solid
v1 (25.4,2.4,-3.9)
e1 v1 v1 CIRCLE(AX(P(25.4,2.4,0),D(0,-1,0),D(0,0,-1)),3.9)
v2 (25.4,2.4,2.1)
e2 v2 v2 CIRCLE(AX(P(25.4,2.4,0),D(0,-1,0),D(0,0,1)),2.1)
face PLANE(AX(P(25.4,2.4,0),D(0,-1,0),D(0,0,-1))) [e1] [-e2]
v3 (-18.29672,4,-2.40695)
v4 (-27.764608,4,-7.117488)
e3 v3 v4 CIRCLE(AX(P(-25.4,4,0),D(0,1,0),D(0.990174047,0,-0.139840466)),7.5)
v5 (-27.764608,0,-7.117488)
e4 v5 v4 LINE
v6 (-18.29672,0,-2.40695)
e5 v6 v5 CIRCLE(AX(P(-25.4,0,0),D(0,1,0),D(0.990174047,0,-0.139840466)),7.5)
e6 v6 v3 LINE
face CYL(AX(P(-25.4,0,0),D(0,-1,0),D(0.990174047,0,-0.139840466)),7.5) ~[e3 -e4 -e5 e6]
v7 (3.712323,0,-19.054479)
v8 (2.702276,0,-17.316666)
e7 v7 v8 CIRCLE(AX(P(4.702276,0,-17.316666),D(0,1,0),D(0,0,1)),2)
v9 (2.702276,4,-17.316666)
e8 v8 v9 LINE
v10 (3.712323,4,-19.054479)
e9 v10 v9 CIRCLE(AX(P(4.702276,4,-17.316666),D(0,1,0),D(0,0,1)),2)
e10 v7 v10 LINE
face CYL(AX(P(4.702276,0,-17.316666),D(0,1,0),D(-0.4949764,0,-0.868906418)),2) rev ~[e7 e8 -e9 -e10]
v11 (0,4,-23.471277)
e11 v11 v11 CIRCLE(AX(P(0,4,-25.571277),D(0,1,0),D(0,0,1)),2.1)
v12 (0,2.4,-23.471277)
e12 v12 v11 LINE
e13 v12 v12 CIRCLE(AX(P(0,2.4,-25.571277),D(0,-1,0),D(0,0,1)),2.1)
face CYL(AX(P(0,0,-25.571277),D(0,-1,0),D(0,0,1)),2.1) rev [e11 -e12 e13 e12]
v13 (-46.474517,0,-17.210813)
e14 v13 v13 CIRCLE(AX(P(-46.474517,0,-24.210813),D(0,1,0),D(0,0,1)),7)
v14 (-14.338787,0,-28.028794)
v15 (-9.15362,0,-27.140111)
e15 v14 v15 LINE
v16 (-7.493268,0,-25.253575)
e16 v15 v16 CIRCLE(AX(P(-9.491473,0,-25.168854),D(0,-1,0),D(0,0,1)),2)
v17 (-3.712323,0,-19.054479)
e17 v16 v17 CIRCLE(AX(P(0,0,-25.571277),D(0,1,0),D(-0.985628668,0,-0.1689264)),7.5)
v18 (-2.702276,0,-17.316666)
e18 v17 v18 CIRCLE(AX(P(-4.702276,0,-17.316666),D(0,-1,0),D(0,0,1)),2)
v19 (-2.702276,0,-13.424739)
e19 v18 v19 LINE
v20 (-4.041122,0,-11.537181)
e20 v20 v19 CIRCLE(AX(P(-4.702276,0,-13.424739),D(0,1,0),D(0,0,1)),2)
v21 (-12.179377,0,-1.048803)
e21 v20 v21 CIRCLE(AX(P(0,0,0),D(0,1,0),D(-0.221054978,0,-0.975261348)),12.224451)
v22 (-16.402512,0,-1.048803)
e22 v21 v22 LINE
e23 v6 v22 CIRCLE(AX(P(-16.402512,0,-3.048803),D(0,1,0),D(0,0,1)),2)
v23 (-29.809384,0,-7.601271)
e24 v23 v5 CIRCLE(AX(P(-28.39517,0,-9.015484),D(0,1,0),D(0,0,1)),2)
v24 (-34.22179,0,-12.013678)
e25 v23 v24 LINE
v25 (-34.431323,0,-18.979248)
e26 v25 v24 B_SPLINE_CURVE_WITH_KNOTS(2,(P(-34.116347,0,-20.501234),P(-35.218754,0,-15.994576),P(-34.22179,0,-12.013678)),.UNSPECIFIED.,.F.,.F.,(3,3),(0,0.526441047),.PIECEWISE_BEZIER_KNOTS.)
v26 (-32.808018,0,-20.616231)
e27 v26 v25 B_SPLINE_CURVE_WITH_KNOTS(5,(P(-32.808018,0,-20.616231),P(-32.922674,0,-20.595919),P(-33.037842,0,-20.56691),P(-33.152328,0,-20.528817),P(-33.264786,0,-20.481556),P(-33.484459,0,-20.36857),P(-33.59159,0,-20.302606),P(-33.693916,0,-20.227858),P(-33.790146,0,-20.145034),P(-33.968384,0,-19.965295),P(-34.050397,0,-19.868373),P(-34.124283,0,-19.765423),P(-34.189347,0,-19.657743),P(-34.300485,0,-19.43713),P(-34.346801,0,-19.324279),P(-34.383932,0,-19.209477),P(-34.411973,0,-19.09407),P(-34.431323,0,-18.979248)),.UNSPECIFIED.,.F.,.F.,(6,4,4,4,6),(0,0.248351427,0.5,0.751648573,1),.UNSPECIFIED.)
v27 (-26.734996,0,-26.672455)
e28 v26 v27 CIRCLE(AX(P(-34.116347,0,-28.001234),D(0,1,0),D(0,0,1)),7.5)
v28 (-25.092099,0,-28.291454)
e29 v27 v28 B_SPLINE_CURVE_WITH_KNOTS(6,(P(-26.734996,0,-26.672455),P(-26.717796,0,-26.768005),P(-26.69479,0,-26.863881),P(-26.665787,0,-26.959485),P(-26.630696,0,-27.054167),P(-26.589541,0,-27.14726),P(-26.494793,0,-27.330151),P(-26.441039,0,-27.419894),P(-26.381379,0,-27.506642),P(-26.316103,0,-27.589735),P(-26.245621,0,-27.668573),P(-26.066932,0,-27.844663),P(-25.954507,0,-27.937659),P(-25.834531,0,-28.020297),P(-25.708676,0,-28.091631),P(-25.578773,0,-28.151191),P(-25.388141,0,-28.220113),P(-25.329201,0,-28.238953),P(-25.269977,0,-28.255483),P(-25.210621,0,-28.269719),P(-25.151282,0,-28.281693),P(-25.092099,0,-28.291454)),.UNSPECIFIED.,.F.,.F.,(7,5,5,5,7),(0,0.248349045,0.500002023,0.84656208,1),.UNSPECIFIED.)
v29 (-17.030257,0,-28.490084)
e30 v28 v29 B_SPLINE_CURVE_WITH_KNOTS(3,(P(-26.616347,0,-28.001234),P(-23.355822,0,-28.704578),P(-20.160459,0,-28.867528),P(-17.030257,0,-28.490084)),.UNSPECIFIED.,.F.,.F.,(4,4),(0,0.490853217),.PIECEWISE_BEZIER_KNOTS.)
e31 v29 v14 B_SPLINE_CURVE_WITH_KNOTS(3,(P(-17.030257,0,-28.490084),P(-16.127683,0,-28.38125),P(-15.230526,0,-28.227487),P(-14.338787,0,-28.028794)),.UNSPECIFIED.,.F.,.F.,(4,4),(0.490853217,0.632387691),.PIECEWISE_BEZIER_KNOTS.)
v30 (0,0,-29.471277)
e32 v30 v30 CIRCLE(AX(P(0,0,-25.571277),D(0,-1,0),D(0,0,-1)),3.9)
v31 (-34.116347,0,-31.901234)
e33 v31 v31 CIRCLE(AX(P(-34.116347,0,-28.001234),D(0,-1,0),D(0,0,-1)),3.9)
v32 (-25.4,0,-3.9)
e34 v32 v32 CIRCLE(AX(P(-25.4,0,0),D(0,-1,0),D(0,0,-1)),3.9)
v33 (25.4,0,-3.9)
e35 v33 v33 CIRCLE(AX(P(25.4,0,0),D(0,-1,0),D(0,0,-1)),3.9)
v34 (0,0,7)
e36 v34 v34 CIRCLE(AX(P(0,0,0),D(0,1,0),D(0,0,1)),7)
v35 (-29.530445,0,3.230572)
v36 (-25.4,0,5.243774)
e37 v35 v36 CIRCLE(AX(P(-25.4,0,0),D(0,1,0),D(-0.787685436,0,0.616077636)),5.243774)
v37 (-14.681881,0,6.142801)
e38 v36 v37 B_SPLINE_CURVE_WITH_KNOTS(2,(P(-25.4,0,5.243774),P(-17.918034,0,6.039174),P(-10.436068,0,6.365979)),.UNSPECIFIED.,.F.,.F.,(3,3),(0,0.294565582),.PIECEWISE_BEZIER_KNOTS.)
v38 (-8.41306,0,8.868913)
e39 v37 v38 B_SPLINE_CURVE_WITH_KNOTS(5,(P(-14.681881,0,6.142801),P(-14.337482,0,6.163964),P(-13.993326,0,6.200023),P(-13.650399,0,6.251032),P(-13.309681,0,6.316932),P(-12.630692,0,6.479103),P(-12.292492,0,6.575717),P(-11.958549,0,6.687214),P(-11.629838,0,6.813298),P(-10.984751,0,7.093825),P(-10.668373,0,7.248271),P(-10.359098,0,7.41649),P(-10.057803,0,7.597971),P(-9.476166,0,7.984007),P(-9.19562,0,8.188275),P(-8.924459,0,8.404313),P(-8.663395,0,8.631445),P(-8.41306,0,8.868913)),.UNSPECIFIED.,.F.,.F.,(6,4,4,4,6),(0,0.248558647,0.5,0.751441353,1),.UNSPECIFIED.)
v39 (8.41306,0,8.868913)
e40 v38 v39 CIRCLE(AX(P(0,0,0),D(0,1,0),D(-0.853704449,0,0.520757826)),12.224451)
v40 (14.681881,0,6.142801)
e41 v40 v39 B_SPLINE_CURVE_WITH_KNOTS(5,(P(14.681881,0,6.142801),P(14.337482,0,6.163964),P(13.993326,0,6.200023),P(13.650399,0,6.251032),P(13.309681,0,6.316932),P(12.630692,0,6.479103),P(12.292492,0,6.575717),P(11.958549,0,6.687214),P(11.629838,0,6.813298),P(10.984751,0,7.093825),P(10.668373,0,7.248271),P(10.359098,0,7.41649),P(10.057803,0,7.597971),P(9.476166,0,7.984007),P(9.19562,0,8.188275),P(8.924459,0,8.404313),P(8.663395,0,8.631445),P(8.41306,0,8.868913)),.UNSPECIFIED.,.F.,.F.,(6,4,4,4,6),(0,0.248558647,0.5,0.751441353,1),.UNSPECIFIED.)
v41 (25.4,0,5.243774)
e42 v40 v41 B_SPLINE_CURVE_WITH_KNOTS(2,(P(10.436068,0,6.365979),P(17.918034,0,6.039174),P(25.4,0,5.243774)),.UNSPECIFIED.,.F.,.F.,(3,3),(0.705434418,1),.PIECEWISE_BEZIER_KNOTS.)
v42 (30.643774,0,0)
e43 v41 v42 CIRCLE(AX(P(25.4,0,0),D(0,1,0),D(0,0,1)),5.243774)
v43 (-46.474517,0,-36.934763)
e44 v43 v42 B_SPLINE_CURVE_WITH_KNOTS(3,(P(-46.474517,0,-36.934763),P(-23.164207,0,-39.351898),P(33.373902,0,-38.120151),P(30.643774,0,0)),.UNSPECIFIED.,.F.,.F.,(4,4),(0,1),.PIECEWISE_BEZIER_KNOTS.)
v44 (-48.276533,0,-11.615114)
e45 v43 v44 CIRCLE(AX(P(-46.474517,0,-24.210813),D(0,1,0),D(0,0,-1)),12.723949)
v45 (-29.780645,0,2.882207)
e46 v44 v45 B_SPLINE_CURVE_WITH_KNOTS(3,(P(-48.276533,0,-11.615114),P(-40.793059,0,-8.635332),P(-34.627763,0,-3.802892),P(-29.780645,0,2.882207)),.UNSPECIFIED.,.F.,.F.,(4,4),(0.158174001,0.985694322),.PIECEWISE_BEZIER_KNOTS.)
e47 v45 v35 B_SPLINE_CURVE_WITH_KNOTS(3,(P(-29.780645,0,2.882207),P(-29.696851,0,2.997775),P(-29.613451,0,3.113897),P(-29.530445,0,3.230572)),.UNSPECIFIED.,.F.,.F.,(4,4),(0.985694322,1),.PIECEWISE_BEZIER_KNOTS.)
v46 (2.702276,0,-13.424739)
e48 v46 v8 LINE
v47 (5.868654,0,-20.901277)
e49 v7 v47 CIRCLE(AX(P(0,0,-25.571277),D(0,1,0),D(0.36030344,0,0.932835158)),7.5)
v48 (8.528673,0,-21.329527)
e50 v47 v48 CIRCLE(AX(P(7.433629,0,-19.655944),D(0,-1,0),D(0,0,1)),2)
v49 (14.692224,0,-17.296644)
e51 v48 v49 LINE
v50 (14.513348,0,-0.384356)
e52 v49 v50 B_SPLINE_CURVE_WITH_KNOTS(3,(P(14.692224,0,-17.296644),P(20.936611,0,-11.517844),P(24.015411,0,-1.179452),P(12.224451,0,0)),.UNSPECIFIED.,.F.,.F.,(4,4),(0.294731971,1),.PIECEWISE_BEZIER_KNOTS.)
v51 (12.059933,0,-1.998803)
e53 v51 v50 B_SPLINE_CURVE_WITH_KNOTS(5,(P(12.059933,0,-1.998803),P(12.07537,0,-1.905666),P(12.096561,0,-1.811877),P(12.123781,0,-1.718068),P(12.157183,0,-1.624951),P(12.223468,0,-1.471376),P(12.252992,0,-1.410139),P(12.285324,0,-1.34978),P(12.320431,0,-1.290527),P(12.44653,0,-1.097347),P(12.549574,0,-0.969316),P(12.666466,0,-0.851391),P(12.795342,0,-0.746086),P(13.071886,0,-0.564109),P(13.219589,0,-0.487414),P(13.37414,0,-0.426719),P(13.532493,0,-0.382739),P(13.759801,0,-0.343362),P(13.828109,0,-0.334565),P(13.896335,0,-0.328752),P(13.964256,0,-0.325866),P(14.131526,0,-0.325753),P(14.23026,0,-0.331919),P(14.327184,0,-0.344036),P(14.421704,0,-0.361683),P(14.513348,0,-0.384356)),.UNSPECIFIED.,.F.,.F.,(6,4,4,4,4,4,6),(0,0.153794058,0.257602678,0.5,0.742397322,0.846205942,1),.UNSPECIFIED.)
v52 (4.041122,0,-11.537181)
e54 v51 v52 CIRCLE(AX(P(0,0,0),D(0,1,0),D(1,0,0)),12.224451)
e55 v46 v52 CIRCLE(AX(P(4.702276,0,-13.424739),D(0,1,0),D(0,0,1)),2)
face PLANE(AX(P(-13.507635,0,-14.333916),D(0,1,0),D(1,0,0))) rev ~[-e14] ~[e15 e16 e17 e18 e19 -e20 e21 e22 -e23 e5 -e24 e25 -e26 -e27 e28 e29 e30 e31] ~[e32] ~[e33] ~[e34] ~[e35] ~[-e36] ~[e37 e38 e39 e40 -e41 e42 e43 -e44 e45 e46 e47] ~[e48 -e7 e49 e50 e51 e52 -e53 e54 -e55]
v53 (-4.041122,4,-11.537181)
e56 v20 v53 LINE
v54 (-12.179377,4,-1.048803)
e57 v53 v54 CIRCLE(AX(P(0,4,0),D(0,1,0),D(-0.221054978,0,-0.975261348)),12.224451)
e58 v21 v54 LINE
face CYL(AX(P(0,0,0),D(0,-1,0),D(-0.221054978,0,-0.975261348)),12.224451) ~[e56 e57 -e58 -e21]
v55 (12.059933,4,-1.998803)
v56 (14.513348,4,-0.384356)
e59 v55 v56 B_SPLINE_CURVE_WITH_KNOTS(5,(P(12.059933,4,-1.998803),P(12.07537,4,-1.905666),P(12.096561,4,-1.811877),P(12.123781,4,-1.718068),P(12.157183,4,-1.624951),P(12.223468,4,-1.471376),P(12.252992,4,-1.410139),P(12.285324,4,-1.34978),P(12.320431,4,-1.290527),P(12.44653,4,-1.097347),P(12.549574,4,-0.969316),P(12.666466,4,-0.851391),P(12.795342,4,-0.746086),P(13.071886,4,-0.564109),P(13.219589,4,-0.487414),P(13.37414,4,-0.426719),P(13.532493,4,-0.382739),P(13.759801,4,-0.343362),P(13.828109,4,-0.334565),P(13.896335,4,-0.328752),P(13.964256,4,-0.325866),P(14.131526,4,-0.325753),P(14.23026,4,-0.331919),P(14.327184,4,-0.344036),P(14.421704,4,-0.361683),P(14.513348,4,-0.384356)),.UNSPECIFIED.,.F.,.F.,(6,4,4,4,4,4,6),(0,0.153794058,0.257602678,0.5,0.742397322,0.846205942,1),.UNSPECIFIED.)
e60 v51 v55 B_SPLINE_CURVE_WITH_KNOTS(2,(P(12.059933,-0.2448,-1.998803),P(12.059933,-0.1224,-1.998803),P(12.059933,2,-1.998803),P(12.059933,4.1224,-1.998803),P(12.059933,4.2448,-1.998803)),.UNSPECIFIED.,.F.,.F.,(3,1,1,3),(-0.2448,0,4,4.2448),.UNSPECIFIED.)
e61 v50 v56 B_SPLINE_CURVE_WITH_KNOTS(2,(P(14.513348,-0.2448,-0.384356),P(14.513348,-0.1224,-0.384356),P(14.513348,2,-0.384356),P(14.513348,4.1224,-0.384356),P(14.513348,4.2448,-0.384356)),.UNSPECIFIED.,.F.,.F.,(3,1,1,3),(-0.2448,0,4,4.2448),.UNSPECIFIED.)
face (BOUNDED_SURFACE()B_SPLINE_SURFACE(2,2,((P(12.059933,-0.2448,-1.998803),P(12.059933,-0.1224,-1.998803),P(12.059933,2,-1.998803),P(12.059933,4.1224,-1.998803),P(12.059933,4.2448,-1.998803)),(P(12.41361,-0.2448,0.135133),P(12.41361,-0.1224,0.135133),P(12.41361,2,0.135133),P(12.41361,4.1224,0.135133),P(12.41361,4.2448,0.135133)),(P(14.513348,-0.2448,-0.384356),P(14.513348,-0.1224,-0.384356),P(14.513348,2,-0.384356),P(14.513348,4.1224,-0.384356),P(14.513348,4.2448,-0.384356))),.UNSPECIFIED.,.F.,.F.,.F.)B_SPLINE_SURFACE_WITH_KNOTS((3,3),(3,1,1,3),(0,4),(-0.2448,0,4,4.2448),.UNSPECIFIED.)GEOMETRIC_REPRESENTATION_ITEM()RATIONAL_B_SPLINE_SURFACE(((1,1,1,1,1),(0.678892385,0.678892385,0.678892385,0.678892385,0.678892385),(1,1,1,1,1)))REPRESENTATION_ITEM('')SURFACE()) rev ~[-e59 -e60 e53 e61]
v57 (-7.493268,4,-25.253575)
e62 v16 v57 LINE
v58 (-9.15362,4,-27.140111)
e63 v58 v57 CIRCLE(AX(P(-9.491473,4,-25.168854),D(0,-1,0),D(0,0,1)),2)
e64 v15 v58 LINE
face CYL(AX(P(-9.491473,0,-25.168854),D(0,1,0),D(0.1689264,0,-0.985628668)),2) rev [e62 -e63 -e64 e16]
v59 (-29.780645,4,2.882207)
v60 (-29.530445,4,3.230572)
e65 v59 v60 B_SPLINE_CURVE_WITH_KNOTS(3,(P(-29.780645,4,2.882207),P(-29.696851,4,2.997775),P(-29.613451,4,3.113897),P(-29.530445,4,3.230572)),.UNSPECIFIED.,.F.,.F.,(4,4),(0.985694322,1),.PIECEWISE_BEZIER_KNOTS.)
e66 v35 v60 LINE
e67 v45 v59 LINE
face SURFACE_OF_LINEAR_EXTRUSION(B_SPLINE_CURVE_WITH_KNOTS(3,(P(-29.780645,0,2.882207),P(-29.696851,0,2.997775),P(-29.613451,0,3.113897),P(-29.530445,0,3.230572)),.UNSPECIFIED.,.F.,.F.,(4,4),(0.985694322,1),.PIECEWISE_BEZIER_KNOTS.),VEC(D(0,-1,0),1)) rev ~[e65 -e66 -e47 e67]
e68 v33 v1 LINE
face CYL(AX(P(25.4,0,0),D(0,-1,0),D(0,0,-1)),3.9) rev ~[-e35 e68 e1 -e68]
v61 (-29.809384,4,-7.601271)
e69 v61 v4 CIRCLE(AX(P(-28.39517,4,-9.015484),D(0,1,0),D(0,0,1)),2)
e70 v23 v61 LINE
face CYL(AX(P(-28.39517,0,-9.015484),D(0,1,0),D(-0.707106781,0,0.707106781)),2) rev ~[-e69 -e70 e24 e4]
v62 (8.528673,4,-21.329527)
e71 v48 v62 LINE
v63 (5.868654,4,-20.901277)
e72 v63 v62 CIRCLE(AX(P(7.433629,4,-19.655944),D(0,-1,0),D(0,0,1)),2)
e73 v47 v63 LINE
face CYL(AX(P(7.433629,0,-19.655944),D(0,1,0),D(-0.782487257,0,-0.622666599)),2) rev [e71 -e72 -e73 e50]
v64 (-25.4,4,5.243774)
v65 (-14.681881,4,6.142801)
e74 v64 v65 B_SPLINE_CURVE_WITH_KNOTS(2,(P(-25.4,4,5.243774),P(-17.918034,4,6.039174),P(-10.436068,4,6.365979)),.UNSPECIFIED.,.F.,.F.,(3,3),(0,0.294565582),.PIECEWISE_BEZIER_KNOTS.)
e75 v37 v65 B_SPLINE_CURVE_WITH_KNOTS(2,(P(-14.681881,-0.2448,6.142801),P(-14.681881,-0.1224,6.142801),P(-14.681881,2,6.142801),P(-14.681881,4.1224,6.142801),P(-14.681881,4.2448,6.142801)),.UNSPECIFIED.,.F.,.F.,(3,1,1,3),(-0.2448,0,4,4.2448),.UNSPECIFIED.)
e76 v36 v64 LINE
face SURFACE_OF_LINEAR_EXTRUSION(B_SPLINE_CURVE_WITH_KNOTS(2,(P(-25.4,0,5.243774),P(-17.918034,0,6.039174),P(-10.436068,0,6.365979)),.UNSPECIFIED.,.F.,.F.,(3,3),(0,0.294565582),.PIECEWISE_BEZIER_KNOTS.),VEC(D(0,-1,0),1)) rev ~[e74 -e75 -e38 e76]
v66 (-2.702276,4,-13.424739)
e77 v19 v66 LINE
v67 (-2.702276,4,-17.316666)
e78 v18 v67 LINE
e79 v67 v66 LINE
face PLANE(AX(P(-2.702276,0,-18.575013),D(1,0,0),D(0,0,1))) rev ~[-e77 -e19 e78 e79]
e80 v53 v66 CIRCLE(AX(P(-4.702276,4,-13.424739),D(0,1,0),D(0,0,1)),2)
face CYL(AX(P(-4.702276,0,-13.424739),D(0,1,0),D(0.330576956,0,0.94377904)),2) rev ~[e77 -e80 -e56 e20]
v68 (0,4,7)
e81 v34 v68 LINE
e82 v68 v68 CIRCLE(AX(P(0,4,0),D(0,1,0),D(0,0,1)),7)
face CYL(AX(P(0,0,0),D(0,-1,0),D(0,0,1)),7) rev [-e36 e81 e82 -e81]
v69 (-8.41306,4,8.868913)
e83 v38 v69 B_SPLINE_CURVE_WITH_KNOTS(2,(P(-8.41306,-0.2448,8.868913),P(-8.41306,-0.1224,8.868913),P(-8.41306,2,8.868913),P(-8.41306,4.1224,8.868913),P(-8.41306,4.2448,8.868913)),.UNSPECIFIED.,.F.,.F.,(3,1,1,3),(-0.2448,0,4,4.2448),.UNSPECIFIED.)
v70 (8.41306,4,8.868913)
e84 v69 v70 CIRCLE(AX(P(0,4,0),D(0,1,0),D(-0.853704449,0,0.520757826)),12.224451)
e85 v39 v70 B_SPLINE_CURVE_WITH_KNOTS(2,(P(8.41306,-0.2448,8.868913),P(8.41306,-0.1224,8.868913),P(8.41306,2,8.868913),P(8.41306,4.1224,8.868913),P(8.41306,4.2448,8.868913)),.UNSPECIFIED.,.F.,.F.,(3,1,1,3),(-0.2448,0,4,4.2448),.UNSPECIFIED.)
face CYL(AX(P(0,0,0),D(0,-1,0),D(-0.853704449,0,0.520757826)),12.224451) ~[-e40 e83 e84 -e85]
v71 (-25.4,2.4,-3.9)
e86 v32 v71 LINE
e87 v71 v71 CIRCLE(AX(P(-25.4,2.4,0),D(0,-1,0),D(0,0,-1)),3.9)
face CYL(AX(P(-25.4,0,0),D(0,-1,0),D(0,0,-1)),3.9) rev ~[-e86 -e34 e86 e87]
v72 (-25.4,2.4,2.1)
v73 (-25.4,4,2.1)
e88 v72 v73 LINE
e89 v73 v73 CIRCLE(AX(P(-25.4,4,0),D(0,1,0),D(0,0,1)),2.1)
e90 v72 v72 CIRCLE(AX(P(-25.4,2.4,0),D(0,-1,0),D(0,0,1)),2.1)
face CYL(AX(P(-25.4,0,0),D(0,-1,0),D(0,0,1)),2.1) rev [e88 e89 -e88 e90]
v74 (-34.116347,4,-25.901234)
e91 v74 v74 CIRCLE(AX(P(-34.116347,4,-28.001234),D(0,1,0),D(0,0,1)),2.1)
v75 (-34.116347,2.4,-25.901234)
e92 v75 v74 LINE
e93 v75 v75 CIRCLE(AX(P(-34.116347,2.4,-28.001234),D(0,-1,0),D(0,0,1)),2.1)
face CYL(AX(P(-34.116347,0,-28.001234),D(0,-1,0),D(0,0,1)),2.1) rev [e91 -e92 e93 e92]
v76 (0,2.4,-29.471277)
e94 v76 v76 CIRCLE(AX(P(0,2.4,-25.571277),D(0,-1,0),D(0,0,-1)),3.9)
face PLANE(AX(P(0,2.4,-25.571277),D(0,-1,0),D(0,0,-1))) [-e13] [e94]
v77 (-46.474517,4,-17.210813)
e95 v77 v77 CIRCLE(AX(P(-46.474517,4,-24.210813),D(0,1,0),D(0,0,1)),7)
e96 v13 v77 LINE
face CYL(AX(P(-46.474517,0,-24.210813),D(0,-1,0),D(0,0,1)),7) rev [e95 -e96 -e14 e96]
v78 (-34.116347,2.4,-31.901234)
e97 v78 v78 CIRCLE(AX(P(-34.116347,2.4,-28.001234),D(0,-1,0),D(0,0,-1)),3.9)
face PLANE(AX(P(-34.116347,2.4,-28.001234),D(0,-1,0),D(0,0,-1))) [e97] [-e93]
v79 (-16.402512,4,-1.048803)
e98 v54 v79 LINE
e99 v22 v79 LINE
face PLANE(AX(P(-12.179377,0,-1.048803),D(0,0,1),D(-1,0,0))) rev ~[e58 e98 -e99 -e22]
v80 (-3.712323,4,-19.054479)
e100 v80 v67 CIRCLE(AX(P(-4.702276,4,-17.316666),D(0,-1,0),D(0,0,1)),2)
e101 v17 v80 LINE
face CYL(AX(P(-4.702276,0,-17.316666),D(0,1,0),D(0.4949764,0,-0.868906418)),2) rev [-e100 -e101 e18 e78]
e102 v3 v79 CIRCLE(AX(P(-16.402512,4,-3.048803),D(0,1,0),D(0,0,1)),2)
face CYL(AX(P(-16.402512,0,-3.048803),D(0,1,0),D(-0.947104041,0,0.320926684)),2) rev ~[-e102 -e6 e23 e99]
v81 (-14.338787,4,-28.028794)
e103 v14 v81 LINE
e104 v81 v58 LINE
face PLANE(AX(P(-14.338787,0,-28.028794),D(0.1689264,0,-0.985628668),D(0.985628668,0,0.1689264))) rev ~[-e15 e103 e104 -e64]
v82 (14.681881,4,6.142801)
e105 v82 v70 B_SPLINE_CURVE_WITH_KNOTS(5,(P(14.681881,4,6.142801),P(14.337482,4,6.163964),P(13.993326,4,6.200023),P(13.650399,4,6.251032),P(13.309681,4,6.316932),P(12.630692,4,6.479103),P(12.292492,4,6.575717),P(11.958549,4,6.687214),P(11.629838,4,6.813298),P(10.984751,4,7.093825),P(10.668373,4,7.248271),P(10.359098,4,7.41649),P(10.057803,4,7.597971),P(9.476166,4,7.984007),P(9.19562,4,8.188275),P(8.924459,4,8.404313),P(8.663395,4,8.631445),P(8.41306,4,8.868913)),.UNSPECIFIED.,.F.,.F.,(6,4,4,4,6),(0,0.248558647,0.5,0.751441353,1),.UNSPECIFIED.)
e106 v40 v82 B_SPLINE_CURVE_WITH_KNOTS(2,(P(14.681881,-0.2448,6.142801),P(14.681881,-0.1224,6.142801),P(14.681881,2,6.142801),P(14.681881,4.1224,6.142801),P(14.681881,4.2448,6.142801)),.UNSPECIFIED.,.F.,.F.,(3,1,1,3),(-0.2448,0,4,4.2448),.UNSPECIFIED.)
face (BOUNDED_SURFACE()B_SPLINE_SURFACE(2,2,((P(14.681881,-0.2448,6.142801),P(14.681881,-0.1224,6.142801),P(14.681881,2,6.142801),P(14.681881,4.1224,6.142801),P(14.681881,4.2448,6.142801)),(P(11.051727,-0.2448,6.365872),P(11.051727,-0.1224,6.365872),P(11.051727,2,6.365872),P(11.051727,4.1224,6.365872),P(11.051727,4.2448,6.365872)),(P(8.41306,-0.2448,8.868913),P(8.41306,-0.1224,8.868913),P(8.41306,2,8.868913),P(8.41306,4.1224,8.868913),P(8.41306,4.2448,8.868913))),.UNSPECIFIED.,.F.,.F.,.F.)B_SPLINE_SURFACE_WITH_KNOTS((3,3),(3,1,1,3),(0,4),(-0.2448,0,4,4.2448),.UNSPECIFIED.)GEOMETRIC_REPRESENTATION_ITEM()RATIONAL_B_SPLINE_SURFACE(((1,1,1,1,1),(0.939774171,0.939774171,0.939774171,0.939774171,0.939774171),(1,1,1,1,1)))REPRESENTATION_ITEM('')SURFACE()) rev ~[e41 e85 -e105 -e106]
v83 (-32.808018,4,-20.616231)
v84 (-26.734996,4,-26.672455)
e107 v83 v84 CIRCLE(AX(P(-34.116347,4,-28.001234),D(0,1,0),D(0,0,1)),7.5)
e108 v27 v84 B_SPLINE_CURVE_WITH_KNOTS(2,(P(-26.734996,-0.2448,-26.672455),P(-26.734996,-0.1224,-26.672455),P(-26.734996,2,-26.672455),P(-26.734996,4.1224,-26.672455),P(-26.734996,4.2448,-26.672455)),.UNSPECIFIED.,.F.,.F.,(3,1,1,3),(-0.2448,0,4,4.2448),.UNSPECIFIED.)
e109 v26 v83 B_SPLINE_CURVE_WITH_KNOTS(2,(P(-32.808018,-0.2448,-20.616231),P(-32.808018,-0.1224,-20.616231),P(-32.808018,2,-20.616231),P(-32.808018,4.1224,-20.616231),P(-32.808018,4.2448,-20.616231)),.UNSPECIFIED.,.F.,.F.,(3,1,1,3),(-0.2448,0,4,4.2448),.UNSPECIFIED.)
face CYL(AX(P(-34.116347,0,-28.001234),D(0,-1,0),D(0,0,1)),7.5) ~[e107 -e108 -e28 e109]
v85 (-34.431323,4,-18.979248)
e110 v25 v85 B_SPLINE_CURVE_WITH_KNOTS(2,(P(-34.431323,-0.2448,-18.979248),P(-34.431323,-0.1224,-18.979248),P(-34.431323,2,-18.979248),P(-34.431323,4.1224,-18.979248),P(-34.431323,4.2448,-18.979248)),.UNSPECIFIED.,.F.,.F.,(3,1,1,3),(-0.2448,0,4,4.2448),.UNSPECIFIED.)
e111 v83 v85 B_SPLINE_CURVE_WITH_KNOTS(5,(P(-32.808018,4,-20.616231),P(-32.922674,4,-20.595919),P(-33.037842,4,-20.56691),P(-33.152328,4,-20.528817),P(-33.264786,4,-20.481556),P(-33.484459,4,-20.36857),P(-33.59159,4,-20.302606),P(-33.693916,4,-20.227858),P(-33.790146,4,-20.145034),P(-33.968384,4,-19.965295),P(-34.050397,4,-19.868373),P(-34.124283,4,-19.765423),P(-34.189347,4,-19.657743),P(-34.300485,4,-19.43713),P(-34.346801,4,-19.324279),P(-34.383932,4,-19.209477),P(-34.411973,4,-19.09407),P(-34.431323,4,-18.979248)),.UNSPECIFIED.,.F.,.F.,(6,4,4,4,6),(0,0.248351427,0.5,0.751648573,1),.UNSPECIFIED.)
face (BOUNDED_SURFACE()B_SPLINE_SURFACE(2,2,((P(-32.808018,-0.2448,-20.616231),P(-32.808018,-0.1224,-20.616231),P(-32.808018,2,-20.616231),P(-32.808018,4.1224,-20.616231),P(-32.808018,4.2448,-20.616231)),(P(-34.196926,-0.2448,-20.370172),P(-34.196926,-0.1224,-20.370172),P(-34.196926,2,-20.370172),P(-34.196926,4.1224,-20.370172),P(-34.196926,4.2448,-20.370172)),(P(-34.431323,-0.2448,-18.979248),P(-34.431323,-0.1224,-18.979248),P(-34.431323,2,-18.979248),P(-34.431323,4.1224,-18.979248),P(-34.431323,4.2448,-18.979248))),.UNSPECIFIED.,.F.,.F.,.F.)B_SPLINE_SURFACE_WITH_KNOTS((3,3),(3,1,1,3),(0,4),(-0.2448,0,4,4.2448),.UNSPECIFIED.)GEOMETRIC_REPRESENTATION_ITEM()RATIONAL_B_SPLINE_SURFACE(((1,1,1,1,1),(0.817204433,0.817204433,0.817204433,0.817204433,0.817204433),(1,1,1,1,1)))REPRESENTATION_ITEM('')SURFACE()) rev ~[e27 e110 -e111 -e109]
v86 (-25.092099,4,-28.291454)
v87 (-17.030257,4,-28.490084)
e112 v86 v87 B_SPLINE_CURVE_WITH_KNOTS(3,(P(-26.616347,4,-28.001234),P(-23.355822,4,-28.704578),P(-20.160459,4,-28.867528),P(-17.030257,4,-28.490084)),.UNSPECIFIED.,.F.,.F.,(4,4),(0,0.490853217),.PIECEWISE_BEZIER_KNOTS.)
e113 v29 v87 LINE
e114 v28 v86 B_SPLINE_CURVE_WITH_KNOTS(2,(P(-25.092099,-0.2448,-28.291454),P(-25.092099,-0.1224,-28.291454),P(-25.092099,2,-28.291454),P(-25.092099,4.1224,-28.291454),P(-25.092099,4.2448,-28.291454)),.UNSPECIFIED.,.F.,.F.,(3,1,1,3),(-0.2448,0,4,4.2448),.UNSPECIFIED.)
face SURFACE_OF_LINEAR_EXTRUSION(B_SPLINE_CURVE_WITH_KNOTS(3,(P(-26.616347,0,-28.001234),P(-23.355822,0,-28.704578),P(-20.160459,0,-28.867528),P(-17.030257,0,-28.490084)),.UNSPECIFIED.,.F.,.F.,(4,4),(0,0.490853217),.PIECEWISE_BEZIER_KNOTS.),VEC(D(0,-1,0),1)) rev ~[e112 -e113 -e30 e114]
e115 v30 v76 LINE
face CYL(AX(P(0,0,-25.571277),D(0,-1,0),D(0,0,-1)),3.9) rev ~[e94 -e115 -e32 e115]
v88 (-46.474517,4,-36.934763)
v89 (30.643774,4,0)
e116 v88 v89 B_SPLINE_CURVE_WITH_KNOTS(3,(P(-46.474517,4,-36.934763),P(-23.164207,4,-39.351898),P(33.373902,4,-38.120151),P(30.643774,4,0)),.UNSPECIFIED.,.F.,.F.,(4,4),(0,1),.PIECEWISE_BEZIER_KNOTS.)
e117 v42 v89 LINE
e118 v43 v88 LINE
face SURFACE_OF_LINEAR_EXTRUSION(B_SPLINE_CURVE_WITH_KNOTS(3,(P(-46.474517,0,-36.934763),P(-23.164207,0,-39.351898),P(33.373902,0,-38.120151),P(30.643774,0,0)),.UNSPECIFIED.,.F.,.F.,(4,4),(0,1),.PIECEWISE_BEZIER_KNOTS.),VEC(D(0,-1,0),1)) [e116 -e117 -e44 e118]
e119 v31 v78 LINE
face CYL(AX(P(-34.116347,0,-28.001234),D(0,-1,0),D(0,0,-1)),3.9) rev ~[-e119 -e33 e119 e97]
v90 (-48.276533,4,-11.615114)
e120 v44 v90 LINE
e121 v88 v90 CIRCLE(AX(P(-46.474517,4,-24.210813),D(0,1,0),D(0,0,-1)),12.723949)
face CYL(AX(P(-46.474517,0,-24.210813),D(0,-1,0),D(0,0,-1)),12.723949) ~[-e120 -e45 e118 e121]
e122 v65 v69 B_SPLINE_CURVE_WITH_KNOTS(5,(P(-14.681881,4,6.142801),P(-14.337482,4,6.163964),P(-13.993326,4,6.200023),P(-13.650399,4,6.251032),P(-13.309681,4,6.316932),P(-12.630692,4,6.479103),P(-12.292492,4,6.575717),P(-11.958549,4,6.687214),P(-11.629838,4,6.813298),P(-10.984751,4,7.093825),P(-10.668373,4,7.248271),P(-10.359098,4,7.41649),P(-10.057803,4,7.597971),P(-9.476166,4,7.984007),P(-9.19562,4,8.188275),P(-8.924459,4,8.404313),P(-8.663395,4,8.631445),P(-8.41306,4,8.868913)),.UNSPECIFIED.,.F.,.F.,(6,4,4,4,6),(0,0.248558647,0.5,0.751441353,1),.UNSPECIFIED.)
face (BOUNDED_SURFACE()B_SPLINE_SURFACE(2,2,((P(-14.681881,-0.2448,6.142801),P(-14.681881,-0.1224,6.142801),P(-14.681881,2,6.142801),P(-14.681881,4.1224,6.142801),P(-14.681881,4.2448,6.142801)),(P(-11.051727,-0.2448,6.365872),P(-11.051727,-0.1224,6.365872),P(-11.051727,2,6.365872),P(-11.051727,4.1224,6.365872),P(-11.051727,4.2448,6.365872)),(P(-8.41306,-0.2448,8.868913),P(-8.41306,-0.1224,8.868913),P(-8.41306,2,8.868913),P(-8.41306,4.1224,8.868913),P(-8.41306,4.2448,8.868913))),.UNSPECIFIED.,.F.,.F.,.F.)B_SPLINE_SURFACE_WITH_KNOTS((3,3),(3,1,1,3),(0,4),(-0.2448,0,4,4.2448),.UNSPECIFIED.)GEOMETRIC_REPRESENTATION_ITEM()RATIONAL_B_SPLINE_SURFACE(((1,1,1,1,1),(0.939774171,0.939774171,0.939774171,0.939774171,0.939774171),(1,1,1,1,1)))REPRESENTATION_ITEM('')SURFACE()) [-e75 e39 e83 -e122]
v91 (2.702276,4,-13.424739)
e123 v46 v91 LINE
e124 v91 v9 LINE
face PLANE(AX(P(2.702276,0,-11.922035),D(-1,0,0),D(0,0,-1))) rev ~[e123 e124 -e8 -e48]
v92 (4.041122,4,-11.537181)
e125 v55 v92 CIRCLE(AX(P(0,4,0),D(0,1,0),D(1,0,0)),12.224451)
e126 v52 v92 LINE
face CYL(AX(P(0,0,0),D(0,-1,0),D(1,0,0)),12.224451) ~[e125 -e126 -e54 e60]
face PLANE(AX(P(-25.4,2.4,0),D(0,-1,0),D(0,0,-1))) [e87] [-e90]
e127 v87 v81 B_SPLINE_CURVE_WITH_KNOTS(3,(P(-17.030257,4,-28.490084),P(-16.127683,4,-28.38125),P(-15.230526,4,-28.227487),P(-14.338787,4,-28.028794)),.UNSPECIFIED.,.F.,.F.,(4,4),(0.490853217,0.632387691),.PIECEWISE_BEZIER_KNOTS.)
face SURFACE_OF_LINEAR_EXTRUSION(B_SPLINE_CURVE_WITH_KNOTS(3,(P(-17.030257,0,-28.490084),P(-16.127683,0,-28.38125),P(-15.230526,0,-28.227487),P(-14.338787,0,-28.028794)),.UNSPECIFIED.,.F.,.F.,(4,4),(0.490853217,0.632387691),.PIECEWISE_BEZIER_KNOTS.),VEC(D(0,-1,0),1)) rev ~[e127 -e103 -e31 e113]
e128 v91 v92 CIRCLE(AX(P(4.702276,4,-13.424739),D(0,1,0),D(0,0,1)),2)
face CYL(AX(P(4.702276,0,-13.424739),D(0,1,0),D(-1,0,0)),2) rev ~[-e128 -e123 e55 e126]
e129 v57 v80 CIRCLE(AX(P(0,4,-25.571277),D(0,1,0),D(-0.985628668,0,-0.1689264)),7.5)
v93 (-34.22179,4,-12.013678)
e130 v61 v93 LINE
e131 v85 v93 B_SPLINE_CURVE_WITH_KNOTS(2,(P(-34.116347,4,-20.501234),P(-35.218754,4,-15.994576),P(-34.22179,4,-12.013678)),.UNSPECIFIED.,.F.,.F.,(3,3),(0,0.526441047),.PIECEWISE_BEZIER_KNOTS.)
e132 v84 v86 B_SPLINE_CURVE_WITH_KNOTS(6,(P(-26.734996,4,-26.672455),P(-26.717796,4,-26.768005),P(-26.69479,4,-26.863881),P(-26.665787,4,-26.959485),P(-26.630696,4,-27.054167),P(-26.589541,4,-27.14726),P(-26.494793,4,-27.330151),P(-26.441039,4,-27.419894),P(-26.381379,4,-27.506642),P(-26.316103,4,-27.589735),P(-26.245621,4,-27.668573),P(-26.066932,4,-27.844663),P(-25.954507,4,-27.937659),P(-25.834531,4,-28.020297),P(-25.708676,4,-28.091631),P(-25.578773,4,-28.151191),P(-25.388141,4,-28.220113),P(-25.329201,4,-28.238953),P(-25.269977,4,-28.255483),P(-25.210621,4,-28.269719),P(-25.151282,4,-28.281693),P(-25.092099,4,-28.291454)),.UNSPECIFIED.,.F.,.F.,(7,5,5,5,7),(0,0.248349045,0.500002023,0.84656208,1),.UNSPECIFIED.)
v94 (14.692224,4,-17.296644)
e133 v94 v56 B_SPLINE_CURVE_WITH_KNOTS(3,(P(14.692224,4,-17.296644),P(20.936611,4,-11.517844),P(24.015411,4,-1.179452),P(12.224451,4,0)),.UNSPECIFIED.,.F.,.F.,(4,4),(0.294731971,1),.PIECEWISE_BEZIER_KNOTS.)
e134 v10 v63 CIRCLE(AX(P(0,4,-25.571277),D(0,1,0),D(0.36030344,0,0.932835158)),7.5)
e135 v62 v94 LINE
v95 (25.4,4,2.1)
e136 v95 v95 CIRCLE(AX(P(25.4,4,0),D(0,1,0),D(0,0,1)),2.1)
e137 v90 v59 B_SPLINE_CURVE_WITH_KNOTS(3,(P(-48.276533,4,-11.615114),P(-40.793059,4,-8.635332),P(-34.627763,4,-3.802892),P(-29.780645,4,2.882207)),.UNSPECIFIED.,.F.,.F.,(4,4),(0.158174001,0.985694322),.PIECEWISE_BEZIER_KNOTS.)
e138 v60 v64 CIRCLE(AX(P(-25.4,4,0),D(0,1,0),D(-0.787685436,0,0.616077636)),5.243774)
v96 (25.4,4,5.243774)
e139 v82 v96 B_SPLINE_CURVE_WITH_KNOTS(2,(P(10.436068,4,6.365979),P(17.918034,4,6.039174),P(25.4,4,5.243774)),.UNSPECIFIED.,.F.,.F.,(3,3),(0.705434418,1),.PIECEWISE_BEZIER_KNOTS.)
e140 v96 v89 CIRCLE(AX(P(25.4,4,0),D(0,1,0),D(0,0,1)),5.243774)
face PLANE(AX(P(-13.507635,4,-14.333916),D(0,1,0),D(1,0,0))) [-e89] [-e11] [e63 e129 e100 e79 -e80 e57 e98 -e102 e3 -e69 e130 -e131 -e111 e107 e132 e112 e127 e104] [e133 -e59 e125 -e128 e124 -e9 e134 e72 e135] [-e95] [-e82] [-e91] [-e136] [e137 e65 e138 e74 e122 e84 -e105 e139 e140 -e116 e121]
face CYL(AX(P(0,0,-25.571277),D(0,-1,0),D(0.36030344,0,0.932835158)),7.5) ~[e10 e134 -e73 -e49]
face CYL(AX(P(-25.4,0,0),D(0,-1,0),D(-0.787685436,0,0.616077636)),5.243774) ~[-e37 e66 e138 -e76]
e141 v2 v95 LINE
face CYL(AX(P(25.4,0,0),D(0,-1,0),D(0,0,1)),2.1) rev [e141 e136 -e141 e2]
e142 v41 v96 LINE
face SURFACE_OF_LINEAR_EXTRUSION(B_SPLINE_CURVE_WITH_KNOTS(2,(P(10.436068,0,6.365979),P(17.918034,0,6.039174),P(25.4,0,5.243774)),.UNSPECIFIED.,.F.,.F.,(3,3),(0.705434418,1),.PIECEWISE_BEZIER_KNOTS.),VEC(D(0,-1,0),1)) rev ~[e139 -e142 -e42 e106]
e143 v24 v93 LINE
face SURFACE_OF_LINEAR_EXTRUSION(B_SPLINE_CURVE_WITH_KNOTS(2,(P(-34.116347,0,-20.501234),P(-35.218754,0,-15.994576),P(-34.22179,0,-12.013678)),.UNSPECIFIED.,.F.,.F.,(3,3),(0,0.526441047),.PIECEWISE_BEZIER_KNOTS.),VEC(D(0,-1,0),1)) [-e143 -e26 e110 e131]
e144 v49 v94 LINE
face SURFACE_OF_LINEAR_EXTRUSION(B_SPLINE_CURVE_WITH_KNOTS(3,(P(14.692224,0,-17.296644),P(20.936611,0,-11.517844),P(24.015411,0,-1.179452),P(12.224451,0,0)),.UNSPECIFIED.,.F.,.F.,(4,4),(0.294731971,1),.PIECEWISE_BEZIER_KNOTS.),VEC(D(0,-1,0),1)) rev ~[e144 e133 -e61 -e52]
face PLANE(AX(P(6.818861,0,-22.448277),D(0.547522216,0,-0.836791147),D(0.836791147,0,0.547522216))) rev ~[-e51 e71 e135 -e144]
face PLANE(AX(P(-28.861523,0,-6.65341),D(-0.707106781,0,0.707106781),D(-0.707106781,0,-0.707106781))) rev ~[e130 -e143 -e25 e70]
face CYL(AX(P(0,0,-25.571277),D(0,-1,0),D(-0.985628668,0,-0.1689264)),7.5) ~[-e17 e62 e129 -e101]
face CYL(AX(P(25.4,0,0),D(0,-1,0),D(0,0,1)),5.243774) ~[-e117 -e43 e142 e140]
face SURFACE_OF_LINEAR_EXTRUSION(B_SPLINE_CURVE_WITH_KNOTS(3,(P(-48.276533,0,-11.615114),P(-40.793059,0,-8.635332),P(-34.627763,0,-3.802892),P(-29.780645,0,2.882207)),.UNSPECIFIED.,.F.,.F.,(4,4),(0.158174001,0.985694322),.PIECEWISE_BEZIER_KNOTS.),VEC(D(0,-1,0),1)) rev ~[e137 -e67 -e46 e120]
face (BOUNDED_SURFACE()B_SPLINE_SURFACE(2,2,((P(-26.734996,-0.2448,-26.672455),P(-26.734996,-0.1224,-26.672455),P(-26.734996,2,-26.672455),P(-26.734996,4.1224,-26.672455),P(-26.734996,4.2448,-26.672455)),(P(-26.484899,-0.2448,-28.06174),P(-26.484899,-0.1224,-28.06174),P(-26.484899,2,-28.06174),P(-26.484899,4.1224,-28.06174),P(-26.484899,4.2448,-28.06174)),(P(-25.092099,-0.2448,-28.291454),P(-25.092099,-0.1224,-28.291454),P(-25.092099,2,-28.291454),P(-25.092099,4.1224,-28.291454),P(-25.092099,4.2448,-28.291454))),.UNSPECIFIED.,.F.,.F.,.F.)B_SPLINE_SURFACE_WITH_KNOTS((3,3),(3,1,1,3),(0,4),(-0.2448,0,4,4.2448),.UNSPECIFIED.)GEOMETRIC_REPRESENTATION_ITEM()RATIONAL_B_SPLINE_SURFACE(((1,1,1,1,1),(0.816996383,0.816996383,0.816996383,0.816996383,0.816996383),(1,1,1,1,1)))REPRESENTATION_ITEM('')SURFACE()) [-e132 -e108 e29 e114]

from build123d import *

# Parameters (mm, degrees)
SKETCH1_R           = 2.1
SKETCH1_R_2         = 7
BOSS_EXTRUDE1_DEPTH = 4
FILLET1_R           = 10
SKETCH2_R           = 3.9
CUT_EXTRUDE1_DEPTH  = 2.4
FILLET2_R           = 2


with BuildPart() as part:
    # Sketch1 → Boss-Extrude1 (new body)
    with BuildSketch(Plane(origin=(0, 0, 0), x_dir=(1, 0, 0), z_dir=(0, 1, 0))):
        with BuildLine():
            add(Edge.make_bspline(
                [(-48.276532762, 11.615114404), (-40.793059369, 8.635332343), (-34.627763453, 3.802891886), (-29.780645012, -2.882206965)],
                knots=[0.158174001, 0.158174001, 0.158174001, 0.158174001, 0.985694322, 0.985694322, 0.985694322, 0.985694322], degree=3))
            add(Edge.make_bspline(
                [(-29.780645012, -2.882206965), (-29.696850917, -2.997774969), (-29.613450765, -3.113896649), (-29.530444557, -3.230572003)],
                knots=[0.985694322, 0.985694322, 0.985694322, 0.985694322, 1, 1, 1, 1], degree=3))
            ThreePointArc((-29.530444557, -3.230572003), (-27.697474443, -4.713679973), (-25.4, -5.243774185))
            add(Edge.make_bspline(
                [(-25.4, -5.243774185), (-17.91803421, -6.039173757), (-10.43606842, -6.365978653)],
                knots=[0, 0, 0, 0.294565582, 0.294565582, 0.294565582], degree=2))
            ThreePointArc((-10.43606842, -6.365978653), (0, -12.224451247), (10.43606842, -6.365978653))
            add(Edge.make_bspline(
                [(10.43606842, -6.365978653), (17.918034209, -6.039173757), (25.4, -5.243774185)],
                knots=[0.705434418, 0.705434418, 0.705434418, 1, 1, 1], degree=2))
            ThreePointArc((25.4, -5.243774185), (29.107908285, -3.707908285), (30.643774185, 0))
            add(Edge.make_bspline(
                [(-46.474516908, 36.934762739), (-23.164206568, 39.351897946), (33.373901801, 38.120150773), (30.643774185, 0)],
                knots=[0, 0, 0, 0, 1, 1, 1, 1], degree=3))
            ThreePointArc((-46.474516908, 36.934762739), (-59.166363236, 25.114100216), (-48.276532762, 11.615114404))
        make_face()
        with Locations(Location((-25.4, 0, 0), (0, 0, 270))):
            Circle(SKETCH1_R, mode=Mode.SUBTRACT)
        with Locations(Location((0, 0, 0), (0, 0, 270))):
            Circle(SKETCH1_R_2, mode=Mode.SUBTRACT)
        with Locations(Location((25.4, 0, 0), (0, 0, 270))):
            Circle(SKETCH1_R, mode=Mode.SUBTRACT)
        with BuildLine():
            Line((6.818861244, 22.448276617), (14.692223791, 17.296643593))
            add(Edge.make_bspline(
                [(14.692223791, 17.296643593), (20.936611379, 11.517843997), (24.015411048, 1.179452343), (12.224451247, 0)],
                knots=[0.294731971, 0.294731971, 0.294731971, 0.294731971, 1, 1, 1, 1], degree=3))
            ThreePointArc((12.224451247, 0), (9.551728824, 7.629002869), (2.702275798, 11.922034801))
            Line((2.702275798, 11.922034801), (2.702275798, 18.575013303))
            ThreePointArc((2.702275798, 18.575013303), (5.139411914, 20.10900226), (6.818861244, 22.448276617))
        make_face(mode=Mode.SUBTRACT)
        with Locations(Location((-46.474516908, 24.210813251, 0), (0, 0, 270))):
            Circle(SKETCH1_R_2, mode=Mode.SUBTRACT)
        with BuildLine():
            add(Edge.make_bspline(
                [(-26.616347467, 28.001234406), (-23.355822424, 28.704578443), (-20.160458878, 28.867528343), (-17.03025683, 28.490084106)],
                knots=[0, 0, 0, 0, 0.490853217, 0.490853217, 0.490853217, 0.490853217], degree=3))
            add(Edge.make_bspline(
                [(-17.03025683, 28.490084106), (-16.127682529, 28.381250406), (-15.230525893, 28.227487183), (-14.338786924, 28.028794436)],
                knots=[0.490853217, 0.490853217, 0.490853217, 0.490853217, 0.632387691, 0.632387691, 0.632387691, 0.632387691], degree=3))
            Line((-14.338786924, 28.028794436), (-7.392215006, 26.83822498))
            ThreePointArc((-7.392215006, 26.83822498), (-6.522641563, 21.869230657), (-2.702275798, 18.575013303))
            Line((-2.702275798, 18.575013303), (-2.702275798, 11.922034801))
            ThreePointArc((-2.702275798, 11.922034801), (-9.215350555, 8.032093278), (-12.179376812, 1.048803495))
            Line((-12.179376812, 1.048803495), (-17.973694645, 1.048803495))
            ThreePointArc((-17.973694645, 1.048803495), (-21.967394814, 6.668374737), (-28.861522607, 6.653409745))
            Line((-28.861522607, 6.653409745), (-34.221790482, 12.01367762))
            add(Edge.make_bspline(
                [(-34.116347467, 20.501234406), (-35.2187538, 15.994576363), (-34.221790482, 12.01367762)],
                knots=[0, 0, 0, 0.526441047, 0.526441047, 0.526441047], degree=2))
            ThreePointArc((-34.116347467, 20.501234406), (-28.813046608, 22.697933547), (-26.616347467, 28.001234406))
        make_face(mode=Mode.SUBTRACT)
        with Locations(Location((-34.116347467, 28.001234406, 0), (0, 0, 270))):
            Circle(SKETCH1_R, mode=Mode.SUBTRACT)
        with Locations(Location((0, 25.57127698, 0), (0, 0, 270))):
            Circle(SKETCH1_R, mode=Mode.SUBTRACT)
    extrude(amount=BOSS_EXTRUDE1_DEPTH)

    # Fillet1
    fillet1_edges = [part.edges().sort_by_distance(p)[0] for p in [
        (10.43606842, 2, 6.365978653),
        (-10.43606842, 2, 6.365978653),
    ]]
    fillet(fillet1_edges, radius=FILLET1_R)

    # Sketch2 → Cut-Extrude1 (cut)
    with BuildSketch(Plane.XZ):
        with Locations(Location((0, -25.57127698, 0), (0, 0, 270))):
            Circle(SKETCH2_R)
        with Locations(Location((25.4, 0, 0), (0, 0, 270))):
            Circle(SKETCH2_R)
        with Locations(Location((-25.4, 0, 0), (0, 0, 270))):
            Circle(SKETCH2_R)
        with Locations(Location((-34.116347467, -28.001234406, 0), (0, 0, 270))):
            Circle(SKETCH2_R)
    extrude(amount=-CUT_EXTRUDE1_DEPTH, mode=Mode.SUBTRACT)

    # Fillet2
    fillet2_edges = [part.edges().sort_by_distance(p)[0] for p in [
        (-7.392215006, 2, -26.83822498),
        (-26.616347467, 2, -28.001234406),
        (-28.861522607, 2, -6.653409745),
        (-17.973694645, 2, -1.048803495),
        (12.224451247, 2, 0),
        (-34.116347467, 2, -20.501234406),
        (2.702275798, 2, -11.922034801),
        (2.702275798, 2, -18.575013303),
        (6.818861244, 2, -22.448276617),
        (-2.702275798, 2, -11.922034801),
        (-2.702275798, 2, -18.575013303),
    ]]
    fillet(fillet2_edges, radius=FILLET2_R)


solid = part.part
